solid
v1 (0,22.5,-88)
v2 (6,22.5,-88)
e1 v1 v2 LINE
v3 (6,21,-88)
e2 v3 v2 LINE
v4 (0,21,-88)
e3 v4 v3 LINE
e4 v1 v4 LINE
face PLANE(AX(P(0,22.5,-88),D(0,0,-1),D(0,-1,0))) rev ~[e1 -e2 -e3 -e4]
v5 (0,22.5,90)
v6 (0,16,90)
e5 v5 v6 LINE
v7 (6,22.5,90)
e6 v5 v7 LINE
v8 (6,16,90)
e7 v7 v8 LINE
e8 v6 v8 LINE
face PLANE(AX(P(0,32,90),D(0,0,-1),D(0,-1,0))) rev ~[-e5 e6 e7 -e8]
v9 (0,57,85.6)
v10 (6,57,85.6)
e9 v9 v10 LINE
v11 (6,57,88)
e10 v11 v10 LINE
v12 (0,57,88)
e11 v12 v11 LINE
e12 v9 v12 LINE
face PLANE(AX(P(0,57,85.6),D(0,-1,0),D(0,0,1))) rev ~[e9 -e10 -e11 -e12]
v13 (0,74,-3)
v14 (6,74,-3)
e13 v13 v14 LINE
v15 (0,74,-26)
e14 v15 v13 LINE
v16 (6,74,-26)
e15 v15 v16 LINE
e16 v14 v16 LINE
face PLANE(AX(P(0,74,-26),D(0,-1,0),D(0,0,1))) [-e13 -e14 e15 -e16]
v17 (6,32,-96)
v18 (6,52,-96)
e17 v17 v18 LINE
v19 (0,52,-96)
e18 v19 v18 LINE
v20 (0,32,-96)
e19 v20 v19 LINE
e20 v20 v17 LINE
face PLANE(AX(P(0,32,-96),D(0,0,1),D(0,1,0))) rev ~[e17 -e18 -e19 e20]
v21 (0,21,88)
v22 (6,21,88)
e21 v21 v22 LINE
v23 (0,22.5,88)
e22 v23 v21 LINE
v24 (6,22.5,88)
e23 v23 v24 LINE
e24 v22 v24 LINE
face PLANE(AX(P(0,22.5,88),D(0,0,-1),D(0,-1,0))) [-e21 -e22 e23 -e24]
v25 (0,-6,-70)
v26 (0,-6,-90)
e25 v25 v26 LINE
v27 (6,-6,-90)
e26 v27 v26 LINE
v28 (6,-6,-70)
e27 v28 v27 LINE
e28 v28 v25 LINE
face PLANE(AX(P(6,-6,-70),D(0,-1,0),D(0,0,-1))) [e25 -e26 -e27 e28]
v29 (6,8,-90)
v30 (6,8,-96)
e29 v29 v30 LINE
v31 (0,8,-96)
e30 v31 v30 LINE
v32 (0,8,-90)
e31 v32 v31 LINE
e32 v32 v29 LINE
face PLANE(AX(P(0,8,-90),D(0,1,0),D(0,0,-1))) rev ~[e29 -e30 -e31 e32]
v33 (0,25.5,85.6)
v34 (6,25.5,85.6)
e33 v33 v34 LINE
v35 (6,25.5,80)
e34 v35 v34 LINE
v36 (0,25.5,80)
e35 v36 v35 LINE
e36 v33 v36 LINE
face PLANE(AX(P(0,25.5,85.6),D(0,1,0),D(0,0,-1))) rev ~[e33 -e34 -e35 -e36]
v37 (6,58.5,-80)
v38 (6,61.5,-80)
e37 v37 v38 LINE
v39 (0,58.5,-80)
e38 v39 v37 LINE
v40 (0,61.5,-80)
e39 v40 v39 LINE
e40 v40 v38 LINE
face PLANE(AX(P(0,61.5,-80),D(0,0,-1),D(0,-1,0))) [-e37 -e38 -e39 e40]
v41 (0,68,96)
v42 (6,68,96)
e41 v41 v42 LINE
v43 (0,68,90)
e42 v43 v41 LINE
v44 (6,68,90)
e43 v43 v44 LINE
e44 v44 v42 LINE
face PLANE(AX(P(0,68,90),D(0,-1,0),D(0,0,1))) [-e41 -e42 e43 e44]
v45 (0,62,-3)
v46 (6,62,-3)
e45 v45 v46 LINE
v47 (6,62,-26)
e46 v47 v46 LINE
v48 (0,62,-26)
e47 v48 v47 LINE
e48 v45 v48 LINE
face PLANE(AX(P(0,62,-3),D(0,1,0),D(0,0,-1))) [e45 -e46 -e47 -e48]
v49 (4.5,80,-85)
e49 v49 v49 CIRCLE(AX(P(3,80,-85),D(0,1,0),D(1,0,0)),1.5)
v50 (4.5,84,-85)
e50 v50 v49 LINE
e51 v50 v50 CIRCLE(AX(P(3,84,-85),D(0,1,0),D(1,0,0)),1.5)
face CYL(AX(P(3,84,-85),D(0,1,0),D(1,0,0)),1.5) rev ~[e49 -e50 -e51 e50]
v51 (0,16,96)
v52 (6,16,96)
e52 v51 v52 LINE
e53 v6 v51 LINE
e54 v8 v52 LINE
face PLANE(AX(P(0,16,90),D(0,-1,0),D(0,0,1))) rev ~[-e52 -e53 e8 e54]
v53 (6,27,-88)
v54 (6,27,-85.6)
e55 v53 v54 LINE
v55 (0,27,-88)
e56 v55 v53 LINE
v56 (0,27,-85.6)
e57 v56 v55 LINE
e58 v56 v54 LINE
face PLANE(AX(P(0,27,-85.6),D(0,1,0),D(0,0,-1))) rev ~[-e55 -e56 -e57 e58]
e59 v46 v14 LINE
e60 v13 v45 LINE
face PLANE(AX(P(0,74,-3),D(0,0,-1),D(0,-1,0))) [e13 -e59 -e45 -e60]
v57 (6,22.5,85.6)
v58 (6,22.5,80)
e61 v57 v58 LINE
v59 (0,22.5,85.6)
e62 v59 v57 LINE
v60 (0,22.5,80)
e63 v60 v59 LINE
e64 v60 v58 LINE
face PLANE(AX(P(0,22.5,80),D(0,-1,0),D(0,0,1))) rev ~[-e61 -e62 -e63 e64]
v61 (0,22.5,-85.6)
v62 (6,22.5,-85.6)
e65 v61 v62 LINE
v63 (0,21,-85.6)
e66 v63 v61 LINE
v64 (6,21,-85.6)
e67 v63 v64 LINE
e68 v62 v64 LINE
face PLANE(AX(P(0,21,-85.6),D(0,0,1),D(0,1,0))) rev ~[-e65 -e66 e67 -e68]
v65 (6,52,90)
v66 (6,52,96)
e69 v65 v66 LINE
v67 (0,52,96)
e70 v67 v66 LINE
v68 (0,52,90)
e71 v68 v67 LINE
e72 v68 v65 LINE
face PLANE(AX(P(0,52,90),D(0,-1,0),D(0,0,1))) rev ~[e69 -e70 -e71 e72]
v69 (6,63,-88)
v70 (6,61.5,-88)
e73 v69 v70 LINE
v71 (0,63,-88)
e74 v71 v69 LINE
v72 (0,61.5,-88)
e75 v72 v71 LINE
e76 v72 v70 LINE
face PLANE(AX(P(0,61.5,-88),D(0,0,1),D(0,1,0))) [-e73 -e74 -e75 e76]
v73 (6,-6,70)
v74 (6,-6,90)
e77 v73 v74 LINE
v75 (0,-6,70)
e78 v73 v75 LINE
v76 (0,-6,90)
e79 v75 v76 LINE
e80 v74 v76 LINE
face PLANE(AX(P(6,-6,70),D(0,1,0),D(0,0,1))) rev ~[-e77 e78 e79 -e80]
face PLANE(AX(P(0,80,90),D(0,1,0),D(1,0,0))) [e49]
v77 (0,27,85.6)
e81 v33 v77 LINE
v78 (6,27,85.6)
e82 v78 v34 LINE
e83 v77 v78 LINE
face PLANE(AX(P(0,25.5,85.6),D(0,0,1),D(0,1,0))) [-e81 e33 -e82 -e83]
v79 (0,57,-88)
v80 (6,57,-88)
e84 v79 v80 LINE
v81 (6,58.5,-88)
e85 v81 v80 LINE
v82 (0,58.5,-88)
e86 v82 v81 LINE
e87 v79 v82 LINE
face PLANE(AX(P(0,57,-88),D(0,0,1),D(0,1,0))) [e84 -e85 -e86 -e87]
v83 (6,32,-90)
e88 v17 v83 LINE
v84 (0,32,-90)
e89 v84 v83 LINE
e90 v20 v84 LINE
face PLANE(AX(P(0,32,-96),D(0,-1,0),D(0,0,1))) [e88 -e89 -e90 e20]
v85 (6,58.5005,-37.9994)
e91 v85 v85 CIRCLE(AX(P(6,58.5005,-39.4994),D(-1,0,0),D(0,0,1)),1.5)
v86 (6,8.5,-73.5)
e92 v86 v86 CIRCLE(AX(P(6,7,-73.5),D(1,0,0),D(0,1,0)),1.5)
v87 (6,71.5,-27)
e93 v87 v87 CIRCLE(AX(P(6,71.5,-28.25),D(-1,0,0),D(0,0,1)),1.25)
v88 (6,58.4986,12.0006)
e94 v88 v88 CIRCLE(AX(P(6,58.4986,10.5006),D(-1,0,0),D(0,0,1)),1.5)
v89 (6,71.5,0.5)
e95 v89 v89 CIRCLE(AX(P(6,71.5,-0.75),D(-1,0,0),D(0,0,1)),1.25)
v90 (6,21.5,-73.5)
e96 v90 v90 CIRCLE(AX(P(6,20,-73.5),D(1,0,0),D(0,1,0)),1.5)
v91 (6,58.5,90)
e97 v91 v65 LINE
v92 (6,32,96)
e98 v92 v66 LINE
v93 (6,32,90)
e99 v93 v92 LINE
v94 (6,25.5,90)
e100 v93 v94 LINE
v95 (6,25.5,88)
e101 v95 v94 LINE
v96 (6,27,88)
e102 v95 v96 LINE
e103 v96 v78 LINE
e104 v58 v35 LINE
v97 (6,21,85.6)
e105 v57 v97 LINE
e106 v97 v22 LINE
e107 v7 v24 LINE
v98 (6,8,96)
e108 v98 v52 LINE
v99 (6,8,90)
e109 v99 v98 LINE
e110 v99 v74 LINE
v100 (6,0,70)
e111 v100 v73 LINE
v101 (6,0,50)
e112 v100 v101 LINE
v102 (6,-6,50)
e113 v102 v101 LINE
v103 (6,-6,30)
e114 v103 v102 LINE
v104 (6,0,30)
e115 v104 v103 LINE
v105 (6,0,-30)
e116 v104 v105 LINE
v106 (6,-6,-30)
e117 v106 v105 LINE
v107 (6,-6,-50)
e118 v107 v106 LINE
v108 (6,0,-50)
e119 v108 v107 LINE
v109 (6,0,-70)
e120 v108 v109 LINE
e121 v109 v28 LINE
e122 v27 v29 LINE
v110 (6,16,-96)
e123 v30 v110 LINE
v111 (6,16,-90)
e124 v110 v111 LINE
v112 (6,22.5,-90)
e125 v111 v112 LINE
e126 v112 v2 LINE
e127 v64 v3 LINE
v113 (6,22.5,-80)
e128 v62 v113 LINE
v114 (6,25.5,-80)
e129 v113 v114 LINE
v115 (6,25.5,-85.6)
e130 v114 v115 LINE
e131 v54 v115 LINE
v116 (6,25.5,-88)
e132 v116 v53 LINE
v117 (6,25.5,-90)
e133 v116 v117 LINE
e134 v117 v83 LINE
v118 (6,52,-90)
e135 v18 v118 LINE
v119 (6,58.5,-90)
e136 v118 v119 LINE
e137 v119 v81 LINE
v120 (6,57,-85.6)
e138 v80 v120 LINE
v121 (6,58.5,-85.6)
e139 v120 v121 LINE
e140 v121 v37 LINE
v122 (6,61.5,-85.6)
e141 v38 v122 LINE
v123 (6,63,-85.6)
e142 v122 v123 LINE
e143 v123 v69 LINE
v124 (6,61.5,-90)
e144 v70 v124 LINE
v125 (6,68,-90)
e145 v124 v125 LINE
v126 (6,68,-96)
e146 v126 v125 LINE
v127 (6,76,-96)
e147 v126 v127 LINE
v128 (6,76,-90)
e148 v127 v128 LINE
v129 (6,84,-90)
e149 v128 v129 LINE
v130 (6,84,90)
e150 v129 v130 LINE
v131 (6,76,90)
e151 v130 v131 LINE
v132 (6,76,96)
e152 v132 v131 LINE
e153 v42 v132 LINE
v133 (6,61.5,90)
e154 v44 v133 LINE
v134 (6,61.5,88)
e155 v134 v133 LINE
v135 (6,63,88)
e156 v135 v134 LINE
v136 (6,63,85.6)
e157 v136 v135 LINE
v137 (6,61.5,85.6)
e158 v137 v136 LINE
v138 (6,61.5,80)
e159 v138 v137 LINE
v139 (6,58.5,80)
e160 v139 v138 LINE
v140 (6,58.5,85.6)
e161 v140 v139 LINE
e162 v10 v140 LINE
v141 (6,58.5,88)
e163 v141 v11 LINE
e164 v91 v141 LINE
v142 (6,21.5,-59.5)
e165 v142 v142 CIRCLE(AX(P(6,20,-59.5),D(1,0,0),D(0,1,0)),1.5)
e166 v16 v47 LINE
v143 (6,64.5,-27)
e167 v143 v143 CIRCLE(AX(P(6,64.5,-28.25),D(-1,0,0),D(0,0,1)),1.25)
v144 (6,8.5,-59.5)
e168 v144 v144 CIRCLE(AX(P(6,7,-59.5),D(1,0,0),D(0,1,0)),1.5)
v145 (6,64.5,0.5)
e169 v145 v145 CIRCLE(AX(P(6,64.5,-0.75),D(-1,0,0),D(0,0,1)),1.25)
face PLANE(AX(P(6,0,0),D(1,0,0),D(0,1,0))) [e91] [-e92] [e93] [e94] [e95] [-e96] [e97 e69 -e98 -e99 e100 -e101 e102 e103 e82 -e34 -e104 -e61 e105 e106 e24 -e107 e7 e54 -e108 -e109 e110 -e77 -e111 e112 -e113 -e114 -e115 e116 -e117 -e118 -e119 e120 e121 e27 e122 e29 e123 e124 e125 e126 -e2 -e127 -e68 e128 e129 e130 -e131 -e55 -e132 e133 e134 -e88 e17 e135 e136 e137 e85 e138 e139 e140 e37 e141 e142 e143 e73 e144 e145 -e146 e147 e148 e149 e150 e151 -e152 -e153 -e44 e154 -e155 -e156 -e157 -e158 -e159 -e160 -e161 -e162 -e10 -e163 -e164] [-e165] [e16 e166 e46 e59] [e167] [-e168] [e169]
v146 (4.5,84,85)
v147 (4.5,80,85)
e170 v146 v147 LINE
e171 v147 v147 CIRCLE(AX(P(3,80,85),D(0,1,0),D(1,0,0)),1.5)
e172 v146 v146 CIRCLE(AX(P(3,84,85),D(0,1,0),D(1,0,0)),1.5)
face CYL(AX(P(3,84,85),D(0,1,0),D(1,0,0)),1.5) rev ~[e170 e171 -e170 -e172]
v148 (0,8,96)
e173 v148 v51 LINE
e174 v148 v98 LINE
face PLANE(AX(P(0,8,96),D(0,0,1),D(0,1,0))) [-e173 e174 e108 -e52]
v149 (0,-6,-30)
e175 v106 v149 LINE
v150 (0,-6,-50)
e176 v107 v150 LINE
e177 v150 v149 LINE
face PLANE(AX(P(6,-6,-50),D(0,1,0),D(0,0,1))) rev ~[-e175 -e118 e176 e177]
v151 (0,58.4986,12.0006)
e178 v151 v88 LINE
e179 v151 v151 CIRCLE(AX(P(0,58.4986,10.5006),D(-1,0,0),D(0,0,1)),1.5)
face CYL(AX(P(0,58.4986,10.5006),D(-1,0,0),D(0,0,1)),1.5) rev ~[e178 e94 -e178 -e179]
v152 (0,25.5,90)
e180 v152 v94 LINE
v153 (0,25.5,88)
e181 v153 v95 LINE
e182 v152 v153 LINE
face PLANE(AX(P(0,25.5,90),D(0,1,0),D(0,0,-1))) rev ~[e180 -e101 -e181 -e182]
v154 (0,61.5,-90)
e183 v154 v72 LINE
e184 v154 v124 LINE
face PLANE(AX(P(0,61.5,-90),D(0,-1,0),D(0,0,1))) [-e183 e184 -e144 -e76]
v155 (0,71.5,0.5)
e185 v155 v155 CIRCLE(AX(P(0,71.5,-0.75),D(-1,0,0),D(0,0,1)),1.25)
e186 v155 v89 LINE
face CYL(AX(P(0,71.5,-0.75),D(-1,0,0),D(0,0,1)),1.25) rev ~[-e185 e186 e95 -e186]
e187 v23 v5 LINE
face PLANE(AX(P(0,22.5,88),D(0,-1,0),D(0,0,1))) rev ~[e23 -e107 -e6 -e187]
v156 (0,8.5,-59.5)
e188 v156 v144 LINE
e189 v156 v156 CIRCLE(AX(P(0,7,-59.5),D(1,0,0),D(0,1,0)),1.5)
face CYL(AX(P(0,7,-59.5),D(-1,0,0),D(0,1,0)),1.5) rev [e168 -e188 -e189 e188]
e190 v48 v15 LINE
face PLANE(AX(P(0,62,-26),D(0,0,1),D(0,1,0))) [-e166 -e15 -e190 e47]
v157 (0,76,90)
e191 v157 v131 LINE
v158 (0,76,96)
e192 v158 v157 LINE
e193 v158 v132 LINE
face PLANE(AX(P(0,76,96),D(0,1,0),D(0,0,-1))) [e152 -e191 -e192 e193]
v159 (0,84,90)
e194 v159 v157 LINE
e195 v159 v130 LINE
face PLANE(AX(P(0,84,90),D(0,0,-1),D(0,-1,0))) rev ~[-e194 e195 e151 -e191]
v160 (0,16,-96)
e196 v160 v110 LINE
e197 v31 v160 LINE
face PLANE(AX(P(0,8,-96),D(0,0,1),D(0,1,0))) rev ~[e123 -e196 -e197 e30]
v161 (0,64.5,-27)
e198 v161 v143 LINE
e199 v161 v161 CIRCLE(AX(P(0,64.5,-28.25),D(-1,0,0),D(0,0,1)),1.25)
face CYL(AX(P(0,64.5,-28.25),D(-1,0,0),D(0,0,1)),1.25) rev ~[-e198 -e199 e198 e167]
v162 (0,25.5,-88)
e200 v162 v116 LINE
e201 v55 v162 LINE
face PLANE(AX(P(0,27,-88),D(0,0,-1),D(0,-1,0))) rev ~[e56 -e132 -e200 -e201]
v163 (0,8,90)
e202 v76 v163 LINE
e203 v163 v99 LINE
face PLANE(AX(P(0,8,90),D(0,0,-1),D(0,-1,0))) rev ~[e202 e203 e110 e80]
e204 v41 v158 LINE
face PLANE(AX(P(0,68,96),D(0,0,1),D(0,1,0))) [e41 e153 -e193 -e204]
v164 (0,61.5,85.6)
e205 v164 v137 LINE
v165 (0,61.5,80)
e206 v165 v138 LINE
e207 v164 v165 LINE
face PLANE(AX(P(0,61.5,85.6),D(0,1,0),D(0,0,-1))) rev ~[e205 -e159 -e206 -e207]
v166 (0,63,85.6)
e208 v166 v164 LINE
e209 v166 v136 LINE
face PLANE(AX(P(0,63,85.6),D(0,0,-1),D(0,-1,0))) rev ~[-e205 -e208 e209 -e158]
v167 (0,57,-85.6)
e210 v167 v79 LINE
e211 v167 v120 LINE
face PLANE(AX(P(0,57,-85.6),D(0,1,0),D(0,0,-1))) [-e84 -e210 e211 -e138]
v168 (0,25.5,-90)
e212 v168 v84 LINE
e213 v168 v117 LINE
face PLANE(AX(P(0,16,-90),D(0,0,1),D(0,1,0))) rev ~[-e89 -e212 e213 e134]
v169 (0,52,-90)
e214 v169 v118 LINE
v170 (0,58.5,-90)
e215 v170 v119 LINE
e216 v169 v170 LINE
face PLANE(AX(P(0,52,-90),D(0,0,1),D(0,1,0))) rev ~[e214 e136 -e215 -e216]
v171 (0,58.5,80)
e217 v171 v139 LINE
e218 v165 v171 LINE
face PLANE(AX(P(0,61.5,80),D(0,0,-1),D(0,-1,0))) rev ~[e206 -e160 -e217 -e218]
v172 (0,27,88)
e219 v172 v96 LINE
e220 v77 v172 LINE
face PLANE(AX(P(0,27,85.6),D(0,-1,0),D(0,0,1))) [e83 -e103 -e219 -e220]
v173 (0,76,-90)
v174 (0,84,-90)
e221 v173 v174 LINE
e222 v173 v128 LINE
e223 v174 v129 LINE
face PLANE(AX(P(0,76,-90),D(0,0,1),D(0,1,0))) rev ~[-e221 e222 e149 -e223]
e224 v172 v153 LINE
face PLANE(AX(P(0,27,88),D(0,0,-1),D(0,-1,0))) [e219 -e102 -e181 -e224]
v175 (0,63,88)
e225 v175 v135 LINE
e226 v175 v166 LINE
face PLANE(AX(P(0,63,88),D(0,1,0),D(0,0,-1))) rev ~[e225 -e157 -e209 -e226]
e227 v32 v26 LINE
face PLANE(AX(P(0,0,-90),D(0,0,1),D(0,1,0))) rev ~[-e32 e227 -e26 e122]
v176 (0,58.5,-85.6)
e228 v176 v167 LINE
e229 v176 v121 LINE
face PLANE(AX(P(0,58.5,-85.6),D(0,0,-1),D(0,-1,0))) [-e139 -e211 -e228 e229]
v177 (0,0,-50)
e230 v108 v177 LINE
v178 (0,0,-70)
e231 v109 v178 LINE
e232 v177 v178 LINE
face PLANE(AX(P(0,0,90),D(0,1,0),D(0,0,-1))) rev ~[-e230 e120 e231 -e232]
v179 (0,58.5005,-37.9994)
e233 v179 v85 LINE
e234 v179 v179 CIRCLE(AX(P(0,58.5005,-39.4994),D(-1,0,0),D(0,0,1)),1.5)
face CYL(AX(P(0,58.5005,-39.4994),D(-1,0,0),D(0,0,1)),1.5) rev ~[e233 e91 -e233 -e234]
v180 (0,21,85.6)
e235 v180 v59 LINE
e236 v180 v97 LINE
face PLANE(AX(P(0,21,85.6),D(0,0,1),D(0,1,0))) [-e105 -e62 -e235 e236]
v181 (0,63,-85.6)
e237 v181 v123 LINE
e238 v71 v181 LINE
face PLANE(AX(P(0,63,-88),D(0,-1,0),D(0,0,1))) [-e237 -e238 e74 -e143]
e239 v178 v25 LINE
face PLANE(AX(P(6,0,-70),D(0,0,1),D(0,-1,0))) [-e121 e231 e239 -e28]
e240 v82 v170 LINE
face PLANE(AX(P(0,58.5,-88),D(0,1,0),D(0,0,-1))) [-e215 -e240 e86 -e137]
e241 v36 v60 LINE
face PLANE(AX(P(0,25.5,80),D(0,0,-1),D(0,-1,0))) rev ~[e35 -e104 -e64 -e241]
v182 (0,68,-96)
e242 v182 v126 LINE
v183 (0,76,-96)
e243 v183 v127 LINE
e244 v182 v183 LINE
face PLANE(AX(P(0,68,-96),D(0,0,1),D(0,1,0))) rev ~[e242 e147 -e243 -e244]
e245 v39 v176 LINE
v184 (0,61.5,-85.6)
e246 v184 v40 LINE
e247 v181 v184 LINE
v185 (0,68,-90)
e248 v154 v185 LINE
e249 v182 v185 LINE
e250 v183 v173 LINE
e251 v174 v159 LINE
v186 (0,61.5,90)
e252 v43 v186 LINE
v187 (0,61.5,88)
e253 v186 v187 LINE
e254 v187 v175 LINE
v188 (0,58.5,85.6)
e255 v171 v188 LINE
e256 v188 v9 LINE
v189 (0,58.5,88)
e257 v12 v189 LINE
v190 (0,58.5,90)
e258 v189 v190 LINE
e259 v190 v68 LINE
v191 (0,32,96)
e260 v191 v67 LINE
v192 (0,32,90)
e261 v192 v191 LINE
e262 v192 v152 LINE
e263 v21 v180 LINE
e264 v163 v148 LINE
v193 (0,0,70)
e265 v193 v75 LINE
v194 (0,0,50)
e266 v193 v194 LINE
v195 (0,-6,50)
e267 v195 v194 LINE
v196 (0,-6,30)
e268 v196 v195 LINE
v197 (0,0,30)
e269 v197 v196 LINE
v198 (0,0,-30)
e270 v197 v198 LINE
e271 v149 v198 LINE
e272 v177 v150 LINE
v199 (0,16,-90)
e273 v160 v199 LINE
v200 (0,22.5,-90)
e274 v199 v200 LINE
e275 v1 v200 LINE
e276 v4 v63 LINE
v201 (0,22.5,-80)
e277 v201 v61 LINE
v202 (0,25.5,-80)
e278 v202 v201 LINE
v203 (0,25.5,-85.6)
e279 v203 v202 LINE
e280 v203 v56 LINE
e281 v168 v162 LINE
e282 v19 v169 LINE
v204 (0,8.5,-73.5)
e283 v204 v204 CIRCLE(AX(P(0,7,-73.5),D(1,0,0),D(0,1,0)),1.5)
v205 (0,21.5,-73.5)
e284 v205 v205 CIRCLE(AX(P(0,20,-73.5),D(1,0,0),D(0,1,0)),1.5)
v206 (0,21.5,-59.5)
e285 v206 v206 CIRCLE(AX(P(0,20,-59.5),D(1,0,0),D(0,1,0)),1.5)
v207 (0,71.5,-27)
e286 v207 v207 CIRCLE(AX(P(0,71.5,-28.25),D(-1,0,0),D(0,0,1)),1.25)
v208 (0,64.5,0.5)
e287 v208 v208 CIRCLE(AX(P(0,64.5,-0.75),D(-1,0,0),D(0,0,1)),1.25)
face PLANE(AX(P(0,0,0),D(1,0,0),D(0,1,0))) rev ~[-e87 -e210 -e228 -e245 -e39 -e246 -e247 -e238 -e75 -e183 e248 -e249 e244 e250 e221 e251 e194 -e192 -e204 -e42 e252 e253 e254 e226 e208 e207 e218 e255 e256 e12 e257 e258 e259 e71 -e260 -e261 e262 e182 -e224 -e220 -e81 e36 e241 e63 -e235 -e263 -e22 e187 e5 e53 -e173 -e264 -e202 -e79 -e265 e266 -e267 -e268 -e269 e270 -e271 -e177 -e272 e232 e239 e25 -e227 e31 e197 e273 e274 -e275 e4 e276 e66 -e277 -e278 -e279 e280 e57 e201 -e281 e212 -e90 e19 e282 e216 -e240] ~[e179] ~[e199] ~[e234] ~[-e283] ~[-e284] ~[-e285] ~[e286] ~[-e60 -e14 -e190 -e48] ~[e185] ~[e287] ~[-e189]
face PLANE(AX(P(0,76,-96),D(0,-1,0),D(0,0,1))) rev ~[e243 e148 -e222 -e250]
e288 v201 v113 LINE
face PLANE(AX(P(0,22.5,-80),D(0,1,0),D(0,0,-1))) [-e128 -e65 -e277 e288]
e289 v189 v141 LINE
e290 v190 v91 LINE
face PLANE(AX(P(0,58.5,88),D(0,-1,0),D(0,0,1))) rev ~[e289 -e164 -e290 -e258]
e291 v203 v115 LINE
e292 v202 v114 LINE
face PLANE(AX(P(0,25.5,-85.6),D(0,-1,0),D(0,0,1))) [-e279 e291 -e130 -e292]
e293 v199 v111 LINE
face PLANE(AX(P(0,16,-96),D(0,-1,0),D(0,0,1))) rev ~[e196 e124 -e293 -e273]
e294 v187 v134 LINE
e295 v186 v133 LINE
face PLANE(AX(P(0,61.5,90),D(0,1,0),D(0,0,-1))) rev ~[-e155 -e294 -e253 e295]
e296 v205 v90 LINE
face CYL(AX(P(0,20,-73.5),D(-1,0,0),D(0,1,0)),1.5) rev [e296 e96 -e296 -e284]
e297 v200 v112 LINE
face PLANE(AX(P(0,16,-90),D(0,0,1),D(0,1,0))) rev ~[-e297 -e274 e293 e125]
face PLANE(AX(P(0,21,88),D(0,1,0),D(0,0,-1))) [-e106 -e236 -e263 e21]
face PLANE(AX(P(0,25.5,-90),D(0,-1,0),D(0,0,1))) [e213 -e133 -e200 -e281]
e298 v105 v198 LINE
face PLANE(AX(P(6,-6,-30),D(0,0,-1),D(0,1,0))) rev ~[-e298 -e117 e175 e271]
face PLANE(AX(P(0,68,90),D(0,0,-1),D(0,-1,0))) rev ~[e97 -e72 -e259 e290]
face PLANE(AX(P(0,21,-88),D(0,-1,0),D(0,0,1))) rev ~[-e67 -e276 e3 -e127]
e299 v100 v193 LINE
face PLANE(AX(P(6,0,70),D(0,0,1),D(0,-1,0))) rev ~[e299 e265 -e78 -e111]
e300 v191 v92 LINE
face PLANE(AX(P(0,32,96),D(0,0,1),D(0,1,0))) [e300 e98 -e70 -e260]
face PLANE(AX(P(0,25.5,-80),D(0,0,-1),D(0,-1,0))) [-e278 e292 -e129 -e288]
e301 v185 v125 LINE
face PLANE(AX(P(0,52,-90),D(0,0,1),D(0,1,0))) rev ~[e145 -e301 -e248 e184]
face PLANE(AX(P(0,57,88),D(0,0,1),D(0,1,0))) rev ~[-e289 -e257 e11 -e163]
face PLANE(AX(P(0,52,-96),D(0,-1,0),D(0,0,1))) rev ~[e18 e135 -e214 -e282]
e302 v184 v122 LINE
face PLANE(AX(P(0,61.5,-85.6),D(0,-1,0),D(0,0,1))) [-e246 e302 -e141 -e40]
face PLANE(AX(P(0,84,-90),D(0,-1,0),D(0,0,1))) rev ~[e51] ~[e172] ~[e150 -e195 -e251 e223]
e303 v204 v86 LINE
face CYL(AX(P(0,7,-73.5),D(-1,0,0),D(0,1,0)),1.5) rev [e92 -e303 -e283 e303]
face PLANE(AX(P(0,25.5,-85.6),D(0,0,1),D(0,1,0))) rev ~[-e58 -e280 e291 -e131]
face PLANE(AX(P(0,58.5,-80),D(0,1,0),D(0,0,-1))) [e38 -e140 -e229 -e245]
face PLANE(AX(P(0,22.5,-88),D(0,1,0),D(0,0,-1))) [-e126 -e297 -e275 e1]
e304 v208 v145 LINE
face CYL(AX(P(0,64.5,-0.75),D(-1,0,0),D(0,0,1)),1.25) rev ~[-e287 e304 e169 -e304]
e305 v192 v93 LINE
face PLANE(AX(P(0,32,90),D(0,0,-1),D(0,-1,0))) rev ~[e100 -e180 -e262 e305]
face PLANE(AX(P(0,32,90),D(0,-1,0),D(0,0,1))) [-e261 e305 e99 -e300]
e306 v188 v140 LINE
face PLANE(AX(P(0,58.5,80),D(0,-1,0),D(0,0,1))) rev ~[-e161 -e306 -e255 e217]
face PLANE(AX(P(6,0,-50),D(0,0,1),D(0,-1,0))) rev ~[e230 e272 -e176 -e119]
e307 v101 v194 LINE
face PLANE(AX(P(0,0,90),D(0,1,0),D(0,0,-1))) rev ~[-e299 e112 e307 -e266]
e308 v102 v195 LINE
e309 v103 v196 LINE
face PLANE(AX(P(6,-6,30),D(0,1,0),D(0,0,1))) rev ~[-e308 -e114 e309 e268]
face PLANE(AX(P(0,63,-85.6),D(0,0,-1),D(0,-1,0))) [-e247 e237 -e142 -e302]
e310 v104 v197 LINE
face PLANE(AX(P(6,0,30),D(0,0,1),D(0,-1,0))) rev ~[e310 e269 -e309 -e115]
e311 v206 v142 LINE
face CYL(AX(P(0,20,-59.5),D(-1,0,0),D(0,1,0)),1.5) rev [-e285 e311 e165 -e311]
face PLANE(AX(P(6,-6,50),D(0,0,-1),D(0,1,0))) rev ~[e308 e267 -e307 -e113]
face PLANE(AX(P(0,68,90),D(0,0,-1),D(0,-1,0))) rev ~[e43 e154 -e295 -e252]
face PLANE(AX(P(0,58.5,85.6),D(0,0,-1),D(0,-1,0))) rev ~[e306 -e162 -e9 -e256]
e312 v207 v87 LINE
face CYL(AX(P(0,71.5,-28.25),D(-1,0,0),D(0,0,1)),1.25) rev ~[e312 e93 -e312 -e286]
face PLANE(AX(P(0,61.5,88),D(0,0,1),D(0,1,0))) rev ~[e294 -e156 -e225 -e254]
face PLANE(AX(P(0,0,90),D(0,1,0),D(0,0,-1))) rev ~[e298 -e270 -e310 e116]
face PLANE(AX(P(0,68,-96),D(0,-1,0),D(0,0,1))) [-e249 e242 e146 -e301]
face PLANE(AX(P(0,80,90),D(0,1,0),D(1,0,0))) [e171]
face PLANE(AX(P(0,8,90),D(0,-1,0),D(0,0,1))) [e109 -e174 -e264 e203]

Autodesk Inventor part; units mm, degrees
ref_plane "YZ Plane" through (0, 0, 0) normal (1, 0, 0) x (0, 1, 0)
ref_plane "XZ Plane" through (0, 0, 0) normal (0, 1, 0) x (-1, 0, 0)
ref_plane "XY Plane" through (0, 0, 0) normal (0, 0, 1) x (1, 0, 0)
sketch "Эскиз1" plane through (0, 0, 0) normal (1, 0, 0) x (0, 1, 0)
  line L0 (84, 90) -> (0, 90)
  line L1 (0, 90) -> (0, -90)
  line L2 (0, -90) -> (84, -90)
  line L3 (84, -90) -> (84, 90)
  line L4 (76, 90) -> (8, 90)
  line L5 (8, 90) -> (8, 96)
  line L6 (8, 96) -> (76, 96)
  line L7 (76, 96) -> (76, 90)
  line L8 (76, -90) -> (8, -90)
  line L9 (8, -90) -> (8, -96)
  line L10 (8, -96) -> (76, -96)
  line L11 (76, -96) -> (76, -90)
  line L12 (16, -96) -> (16, -90)
  line L13 (32, -96) -> (32, -90)
  line L14 (68, -96) -> (68, -90)
  line L15 (52, -96) -> (52, -90)
  line L16 (16, 90) -> (16, 96)
  line L17 (32, 90) -> (32, 96)
  line L18 (68, 90) -> (68, 96)
  line L19 (52, 90) -> (52, 96)
  circle A0 centre (20, -59.5) radius 1.5
  circle A1 centre (20, -73.5) radius 1.5
  circle A2 centre (7, -59.5) radius 1.5
  circle A3 centre (7, -73.5) radius 1.5
  line L20 (20, -59.5) -> (0, -59.5) construction
  line L21 (7, -59.5) -> (7, -73.5) construction
  line L22 (20, -73.5) -> (0, -73.5) construction
  point P0 (0, 0)
  point P1 (76, 93)
  point P2 (8, 93)
  point P3 (8, -90)
  point P4 (68, -93)
  point P5 (76, -93)
  point P6 (52, -93)
  point P7 (16, -93)
  point P8 (8, -93)
  point P9 (32, -93)
  point P10 (68, 93)
  point P11 (52, 93)
  point P12 (16, 93)
  point P13 (32, 93)
  dimension "d0" = 180
  dimension "d1" = 84
  dimension "d2" = 90
  dimension "d3" = 0
  dimension "d4" = 6
  dimension "d5" = 8
  dimension "d6" = 8
  dimension "d7" = 6
  dimension "d40" = 8
  dimension "d41" = 16
  dimension "d42" = 8
  dimension "d43" = 16
  dimension "d44" = 8
  dimension "d45" = 16
  dimension "d46" = 16
  dimension "d47" = 8
  dimension "d76" = 14
  dimension "d77" = 3
  dimension "d78" = 3
  dimension "d79" = 20
  dimension "d80" = 20
  dimension "d81" = 3
  dimension "d82" = 3
  dimension "d83" = 13
  dimension "d84" = 13
  dimension "d85" = 16.5
extrude "Выдавливание1" add sketch "Эскиз1" along normal blind 6 contours L3 L2 L1 L0 | L0 L18 L6 L7 | L11 L10 L14 L2 | L0 L17 L6 L19 | L15 L10 L13 L2 | L0 L5 L6 L16 | L12 L10 L9 L2
sketch "Эскиз4" plane through (0, 84, 90) normal (0, 1, 0) x (1, 0, 0)
  circle A0 centre (3, 5) radius 1.5
  circle A1 centre (3, 175) radius 1.5
  line L0 (0, 0) -> (6, 0)
  line L1 (6, 180) -> (6, 0)
  line L2 (0, 180) -> (6, 180)
  line L3 (6, 180) -> (6, 0) projected
  line L4 (0, 0) -> (6, 0) projected
  line L5 (0, 180) -> (6, 180) projected
  point P0 (0, 90)
  point P1 (3, 0)
  dimension "d30" = 3
  dimension "d31" = 3
  dimension "d32" = 5
  dimension "d33" = 3
  dimension "d34" = 5
  dimension "d35" = 3
  dimension "d36" = 6
  dimension "d37" = 6
extrude "Выдавливание4" cut sketch "Эскиз4" against normal blind 4
sketch "Эскиз6" plane through (6, 0, 0) normal (1, 0, 0) x (0, 0, -1)
  line L0 (-90, 8) -> (-90, 0) projected
  line L1 (-90, 0) -> (-70, 0)
  line L2 (-70, 0) -> (-70, -6)
  line L3 (-70, -6) -> (-90, -6)
  line L4 (-90, -6) -> (-90, 0)
  line L5 (-90, 0) -> (90, 0) projected
  line L6 (-50, 0) -> (-30, 0)
  line L7 (-30, 0) -> (-30, -6)
  line L8 (-30, -6) -> (-50, -6)
  line L9 (-50, -6) -> (-50, 0)
  line L10 (30, 0) -> (50, 0)
  line L11 (50, 0) -> (50, -6)
  line L12 (50, -6) -> (30, -6)
  line L13 (30, -6) -> (30, 0)
  line L14 (90, 0) -> (70, 0)
  line L15 (70, 0) -> (70, -6)
  line L16 (70, -6) -> (90, -6)
  line L17 (90, -6) -> (90, 0)
  point P0 (0, 0)
  point P1 (-80, -6)
  point P2 (-50, -3)
  point P3 (-70, -3)
  point P4 (-30, -3)
  point P5 (90, -3)
  point P6 (70, -3)
  point P7 (50, -3)
  dimension "d48" = 6
  dimension "d49" = 6
  dimension "d50" = 6
  dimension "d51" = 20
  dimension "d52" = 20
  dimension "d53" = 20
  dimension "d54" = 20
  dimension "d55" = 20
  dimension "d56" = 20
extrude "Выдавливание5" add sketch "Эскиз6" against normal blind 6
sketch "Эскиз8" plane through (0, 0, 0) normal (-1, 0, 0) x (0, 0, 1)
  line L0 (-26, 74) -> (-3, 74)
  line L1 (-3, 74) -> (-3, 62)
  line L2 (-3, 62) -> (-26, 62)
  line L3 (-26, 62) -> (-26, 74)
  circle A0 centre (-28.25, 71.5) radius 1.25
  circle A1 centre (-28.25, 64.5) radius 1.25
  circle A2 centre (-0.75, 71.5) radius 1.25
  circle A3 centre (-0.75, 64.5) radius 1.25
  line L4 (-90, 84) -> (90, 84) projected
  line L5 (-96, 68) -> (-96, 76) projected
  point P0 (0, 0)
  point P1 (-26, 68)
  dimension "d86" = 23
  dimension "d87" = 12
  dimension "d88" = 2.5
  dimension "d89" = 2.5
  dimension "d90" = 2.5
  dimension "d91" = 2.5
  dimension "d92" = 27.5
  dimension "d93" = 2.5
  dimension "d94" = 7
  dimension "d95" = 2.25
  dimension "d96" = 7
  dimension "d97" = 27.5
  dimension "d98" = 10
  dimension "d99" = 2.5
  dimension "d100" = 70
  dimension "d101" = 1
extrude "Выдавливание7" cut sketch "Эскиз8" against normal blind 10
sketch "Эскиз9" plane through (0, 0, 0) normal (-1, 0, 0) x (0, 0, 1)
  circle A0 centre (-39.4994, 58.5005) radius 1.5 projected
  circle A1 centre (10.5006, 58.4986) radius 1.5 projected
  circle A2 centre (-39.4994, 58.5005) radius 1.5
  circle A3 centre (10.5006, 58.4986) radius 1.5
  point P0 (0, 0)
extrude "Выдавливание8" cut sketch "Эскиз9" against normal blind 10
sketch "Эскиз10" plane through (0, 0, 0) normal (-1, 0, 0) x (0, 0, 1)
  line L0 (90, 61.5) -> (80, 61.5)
  line L1 (80, 61.5) -> (80, 58.5)
  line L2 (80, 58.5) -> (90, 58.5)
  line L3 (90, 58.5) -> (90, 61.5)
  line L4 (85.6, 57) -> (88, 57)
  line L5 (88, 57) -> (88, 63)
  line L6 (88, 63) -> (85.6, 63)
  line L7 (85.6, 63) -> (85.6, 57)
  line L8 (90, 25.5) -> (80, 25.5)
  line L9 (80, 25.5) -> (80, 22.5)
  line L10 (80, 22.5) -> (90, 22.5)
  line L11 (90, 22.5) -> (90, 25.5)
  line L12 (85.6, 27) -> (88, 27)
  line L13 (88, 27) -> (88, 21)
  line L14 (88, 21) -> (85.6, 21)
  line L15 (85.6, 21) -> (85.6, 27)
  circle A0 centre (10.5006, 58.4986) radius 1.5 projected
  circle A1 centre (-39.4994, 58.5005) radius 1.5 projected
  circle A2 centre (-28.25, 64.5) radius 1.25 projected
  circle A3 centre (-0.75, 71.5) radius 1.25 projected
  circle A4 centre (-28.25, 71.5) radius 1.25 projected
  circle A5 centre (-0.75, 64.5) radius 1.25 projected
  line L16 (-26, 74) -> (-26, 62) projected
  line L17 (-26, 62) -> (-3, 62) projected
  line L18 (-3, 62) -> (-3, 74) projected
  line L19 (-3, 74) -> (-26, 74) projected
  circle A6 centre (-73.5, 7) radius 1.5 projected
  circle A7 centre (-59.5, 7) radius 1.5 projected
  circle A8 centre (-73.5, 20) radius 1.5 projected
  circle A9 centre (-59.5, 20) radius 1.5 projected
  line L20 (90, 52) -> (96, 52) projected
  line L21 (96, 52) -> (96, 32) projected
  line L22 (96, 32) -> (90, 32) projected
  line L23 (90, 32) -> (90, 16) projected
  line L24 (90, 16) -> (96, 16) projected
  line L25 (96, 16) -> (96, 8) projected
  line L26 (96, 8) -> (90, 8) projected
  line L27 (90, 8) -> (90, -6) projected
  line L28 (90, -6) -> (70, -6) projected
  line L29 (70, -6) -> (70, 0) projected
  line L30 (70, 0) -> (50, 0) projected
  line L31 (50, 0) -> (50, -6) projected
  line L32 (50, -6) -> (30, -6) projected
  line L33 (30, -6) -> (30, 0) projected
  line L34 (30, 0) -> (-30, 0) projected
  line L35 (-30, 0) -> (-30, -6) projected
  line L36 (-30, -6) -> (-50, -6) projected
  line L37 (-50, -6) -> (-50, 0) projected
  line L38 (-50, 0) -> (-70, 0) projected
  line L39 (-70, 0) -> (-70, -6) projected
  line L40 (-70, -6) -> (-90, -6) projected
  line L41 (-90, -6) -> (-90, 8) projected
  line L42 (-90, 8) -> (-96, 8) projected
  line L43 (-96, 8) -> (-96, 16) projected
  line L44 (-96, 16) -> (-90, 16) projected
  line L45 (-90, 16) -> (-90, 32) projected
  line L46 (-90, 32) -> (-96, 32) projected
  line L47 (-96, 32) -> (-96, 52) projected
  line L48 (-96, 52) -> (-90, 52) projected
  line L49 (-90, 52) -> (-90, 68) projected
  line L50 (-90, 68) -> (-96, 68) projected
  line L51 (-96, 68) -> (-96, 76) projected
  line L52 (-96, 76) -> (-90, 76) projected
  line L53 (-90, 76) -> (-90, 84) projected
  line L54 (-90, 84) -> (90, 84) projected
  line L55 (90, 84) -> (90, 76) projected
  line L56 (90, 76) -> (96, 76) projected
  line L57 (96, 76) -> (96, 68) projected
  line L58 (96, 68) -> (90, 68) projected
  line L59 (90, 68) -> (90, 52) projected
  circle A10 centre (10.5006, 58.4986) radius 1.5 projected
  circle A11 centre (-39.4994, 58.5005) radius 1.5 projected
  circle A12 centre (-28.25, 64.5) radius 1.25 projected
  circle A13 centre (-0.75, 71.5) radius 1.25 projected
  circle A14 centre (-28.25, 71.5) radius 1.25 projected
  circle A15 centre (-0.75, 64.5) radius 1.25 projected
  line L60 (-26, 74) -> (-26, 62) projected
  line L61 (-26, 62) -> (-3, 62) projected
  line L62 (-3, 62) -> (-3, 74) projected
  line L63 (-3, 74) -> (-26, 74) projected
  circle A16 centre (-73.5, 7) radius 1.5 projected
  circle A17 centre (-59.5, 7) radius 1.5 projected
  circle A18 centre (-73.5, 20) radius 1.5 projected
  circle A19 centre (-59.5, 20) radius 1.5 projected
  line L64 (90, 52) -> (96, 52) projected
  line L65 (96, 52) -> (96, 32) projected
  line L66 (96, 32) -> (90, 32) projected
  line L67 (90, 32) -> (90, 16) projected
  line L68 (90, 16) -> (96, 16) projected
  line L69 (96, 16) -> (96, 8) projected
  line L70 (96, 8) -> (90, 8) projected
  line L71 (90, 8) -> (90, -6) projected
  line L72 (90, -6) -> (70, -6) projected
  line L73 (70, -6) -> (70, 0) projected
  line L74 (70, 0) -> (50, 0) projected
  line L75 (50, 0) -> (50, -6) projected
  line L76 (50, -6) -> (30, -6) projected
  line L77 (30, -6) -> (30, 0) projected
  line L78 (30, 0) -> (-30, 0) projected
  line L79 (-30, 0) -> (-30, -6) projected
  line L80 (-30, -6) -> (-50, -6) projected
  line L81 (-50, -6) -> (-50, 0) projected
  line L82 (-50, 0) -> (-70, 0) projected
  line L83 (-70, 0) -> (-70, -6) projected
  line L84 (-70, -6) -> (-90, -6) projected
  line L85 (-90, -6) -> (-90, 8) projected
  line L86 (-90, 8) -> (-96, 8) projected
  line L87 (-96, 8) -> (-96, 16) projected
  line L88 (-96, 16) -> (-90, 16) projected
  line L89 (-90, 16) -> (-90, 32) projected
  line L90 (-90, 32) -> (-96, 32) projected
  line L91 (-96, 32) -> (-96, 52) projected
  line L92 (-96, 52) -> (-90, 52) projected
  line L93 (-90, 52) -> (-90, 68) projected
  line L94 (-90, 68) -> (-96, 68) projected
  line L95 (-96, 68) -> (-96, 76) projected
  line L96 (-96, 76) -> (-90, 76) projected
  line L97 (-90, 76) -> (-90, 84) projected
  line L98 (-90, 84) -> (90, 84) projected
  line L99 (90, 84) -> (90, 76) projected
  line L100 (90, 76) -> (96, 76) projected
  line L101 (96, 76) -> (96, 68) projected
  line L102 (96, 68) -> (90, 68) projected
  line L103 (90, 68) -> (90, 52) projected
  circle A20 centre (10.5006, 58.4986) radius 1.5 projected
  circle A21 centre (-39.4994, 58.5005) radius 1.5 projected
  circle A22 centre (-28.25, 64.5) radius 1.25 projected
  circle A23 centre (-0.75, 71.5) radius 1.25 projected
  circle A24 centre (-28.25, 71.5) radius 1.25 projected
  circle A25 centre (-0.75, 64.5) radius 1.25 projected
  line L104 (-3, 74) -> (-3, 62) projected
  line L105 (-3, 62) -> (-26, 62) projected
  line L106 (-26, 62) -> (-26, 74) projected
  line L107 (-26, 74) -> (-3, 74) projected
  line L108 (96, 52) -> (96, 32) projected
  line L109 (90, 52) -> (96, 52) projected
  line L110 (90, 68) -> (90, 52) projected
  line L111 (96, 68) -> (90, 68) projected
  line L112 (96, 76) -> (96, 68) projected
  line L113 (90, 76) -> (96, 76) projected
  line L114 (90, 84) -> (90, 76) projected
  line L115 (-90, 84) -> (90, 84) projected
  line L116 (-90, 76) -> (-90, 84) projected
  line L117 (-96, 76) -> (-90, 76) projected
  line L118 (-96, 68) -> (-96, 76) projected
  line L119 (-90, 68) -> (-96, 68) projected
  line L120 (-90, 52) -> (-90, 68) projected
  line L121 (-96, 52) -> (-90, 52) projected
  line L122 (-96, 32) -> (-96, 52) projected
  line L123 (-90, 32) -> (-96, 32) projected
  line L124 (-90, 16) -> (-90, 32) projected
  line L125 (-96, 16) -> (-90, 16) projected
  line L126 (-96, 8) -> (-96, 16) projected
  line L127 (-90, 8) -> (-96, 8) projected
  line L128 (-90, 8) -> (-90, -6) projected
  line L129 (-90, -6) -> (-70, -6) projected
  line L130 (-70, -6) -> (-70, 0) projected
  line L131 (-50, 0) -> (-70, 0) projected
  line L132 (-50, 0) -> (-50, -6) projected
  line L133 (-50, -6) -> (-30, -6) projected
  line L134 (-30, -6) -> (-30, 0) projected
  line L135 (30, 0) -> (-30, 0) projected
  line L136 (30, 0) -> (30, -6) projected
  line L137 (30, -6) -> (50, -6) projected
  line L138 (50, -6) -> (50, 0) projected
  line L139 (70, 0) -> (50, 0) projected
  line L140 (70, 0) -> (70, -6) projected
  line L141 (70, -6) -> (90, -6) projected
  line L142 (90, 8) -> (90, -6) projected
  line L143 (96, 8) -> (90, 8) projected
  line L144 (96, 16) -> (96, 8) projected
  line L145 (90, 16) -> (96, 16) projected
  line L146 (90, 32) -> (90, 16) projected
  line L147 (96, 32) -> (90, 32) projected
  circle A26 centre (-59.5, 20) radius 1.5 projected
  circle A27 centre (-73.5, 20) radius 1.5 projected
  circle A28 centre (-59.5, 7) radius 1.5 projected
  circle A29 centre (-73.5, 7) radius 1.5 projected
  line L148 (90, 68) -> (90, 52) projected
  line L149 (0, 84) -> (0, 0) construction
  line L150 (-90, 61.5) -> (-80, 61.5)
  line L151 (-80, 61.5) -> (-80, 58.5)
  line L152 (-80, 58.5) -> (-90, 58.5)
  line L153 (-90, 58.5) -> (-90, 61.5)
  line L154 (-85.6, 57) -> (-88, 57)
  line L155 (-88, 57) -> (-88, 63)
  line L156 (-88, 63) -> (-85.6, 63)
  line L157 (-85.6, 63) -> (-85.6, 57)
  line L158 (-90, 25.5) -> (-80, 25.5)
  line L159 (-80, 25.5) -> (-80, 22.5)
  line L160 (-80, 22.5) -> (-90, 22.5)
  line L161 (-90, 22.5) -> (-90, 25.5)
  line L162 (-85.6, 27) -> (-88, 27)
  line L163 (-88, 27) -> (-88, 21)
  line L164 (-88, 21) -> (-85.6, 21)
  line L165 (-85.6, 21) -> (-85.6, 27)
  line L166 (-90, 52) -> (-96, 52)
  line L167 (-96, 52) -> (-96, 32)
  line L168 (-96, 32) -> (-90, 32)
  line L169 (-90, 32) -> (-90, 16)
  line L170 (-90, 16) -> (-96, 16)
  line L171 (-90, 52) -> (-96, 52)
  line L172 (-96, 52) -> (-96, 32)
  line L173 (-96, 32) -> (-90, 32)
  line L174 (-90, 32) -> (-90, 16)
  line L175 (-90, 16) -> (-96, 16)
  line L176 (-96, 52) -> (-96, 32)
  line L177 (-90, 52) -> (-96, 52)
  line L178 (-90, 16) -> (-96, 16)
  line L179 (-90, 32) -> (-90, 16)
  line L180 (-96, 32) -> (-90, 32)
  point P0 (93, 68)
  point P1 (93, 52)
  point P2 (93, 32)
  point P3 (-93, 52)
  point P4 (-93, 32)
  point P5 (85.6, 22.5)
  point P6 (88, 22.5)
  point P7 (88, 25.5)
  point P8 (85.6, 25.5)
  point P9 (85.6, 58.5)
  point P10 (88, 58.5)
  point P11 (88, 61.5)
  point P12 (85.6, 61.5)
  point P13 (-85.6, 25.5)
  point P14 (-88, 25.5)
  point P15 (-88, 22.5)
  point P16 (-85.6, 22.5)
  point P17 (-85.6, 61.5)
  point P18 (-88, 61.5)
  point P19 (-88, 58.5)
  point P20 (-85.6, 58.5)
  dimension "d106" = 6
  dimension "d107" = 2.4
  dimension "d108" = 10
  dimension "d109" = 3
  dimension "d110" = 1.5
  dimension "d111" = 5.6
  dimension "d112" = 10
  dimension "d113" = 3
  dimension "d114" = 1.5
  dimension "d115" = 6
  dimension "d116" = 5.6
  dimension "d117" = 2.4
  dimension "d118" = 6.5
  dimension "d120" = 6.5
extrude "Выдавливание9" cut sketch "Эскиз10" against normal blind 10 contours L3 L2 L5 L0 | L5 L2 L7 L0 | L0 L7 L6 L5 | L7 L2 L1 L0 | L5 L4 L7 L2 | L11 L10 L13 L8 | L13 L10 L15 L8 | L8 L15 L12 L13 | L15 L10 L9 L8 | L13 L14 L15 L10 | L150 L155 L152 L49 | L155 L156 L157 L150 | L150 L157 L152 L155 | L152 L157 L154 L155 | L150 L151 L152 L157 | L158 L163 L160 L45 | L163 L162 L165 L158 | L158 L165 L160 L163 | L160 L165 L164 L163 | L158 L159 L160 L165
equation "\"d2\" = 0.5 * d0"
equation "\"d42\" = d40"
equation "\"d43\" = d41"
equation "\"d44\" = d40"
equation "\"d45\" = d41"
equation "\"d46\" = d41"
equation "\"d47\" = d40"
equation "\"d52\" = d51"
equation "\"d53\" = d51"
equation "\"d54\" = d51"
equation "\"d55\" = d51"
equation "\"d56\" = d51"
equation "\"d89\" = d88"
equation "\"d90\" = d88"
equation "\"d91\" = d88"
properties part number "передняя стенка"
